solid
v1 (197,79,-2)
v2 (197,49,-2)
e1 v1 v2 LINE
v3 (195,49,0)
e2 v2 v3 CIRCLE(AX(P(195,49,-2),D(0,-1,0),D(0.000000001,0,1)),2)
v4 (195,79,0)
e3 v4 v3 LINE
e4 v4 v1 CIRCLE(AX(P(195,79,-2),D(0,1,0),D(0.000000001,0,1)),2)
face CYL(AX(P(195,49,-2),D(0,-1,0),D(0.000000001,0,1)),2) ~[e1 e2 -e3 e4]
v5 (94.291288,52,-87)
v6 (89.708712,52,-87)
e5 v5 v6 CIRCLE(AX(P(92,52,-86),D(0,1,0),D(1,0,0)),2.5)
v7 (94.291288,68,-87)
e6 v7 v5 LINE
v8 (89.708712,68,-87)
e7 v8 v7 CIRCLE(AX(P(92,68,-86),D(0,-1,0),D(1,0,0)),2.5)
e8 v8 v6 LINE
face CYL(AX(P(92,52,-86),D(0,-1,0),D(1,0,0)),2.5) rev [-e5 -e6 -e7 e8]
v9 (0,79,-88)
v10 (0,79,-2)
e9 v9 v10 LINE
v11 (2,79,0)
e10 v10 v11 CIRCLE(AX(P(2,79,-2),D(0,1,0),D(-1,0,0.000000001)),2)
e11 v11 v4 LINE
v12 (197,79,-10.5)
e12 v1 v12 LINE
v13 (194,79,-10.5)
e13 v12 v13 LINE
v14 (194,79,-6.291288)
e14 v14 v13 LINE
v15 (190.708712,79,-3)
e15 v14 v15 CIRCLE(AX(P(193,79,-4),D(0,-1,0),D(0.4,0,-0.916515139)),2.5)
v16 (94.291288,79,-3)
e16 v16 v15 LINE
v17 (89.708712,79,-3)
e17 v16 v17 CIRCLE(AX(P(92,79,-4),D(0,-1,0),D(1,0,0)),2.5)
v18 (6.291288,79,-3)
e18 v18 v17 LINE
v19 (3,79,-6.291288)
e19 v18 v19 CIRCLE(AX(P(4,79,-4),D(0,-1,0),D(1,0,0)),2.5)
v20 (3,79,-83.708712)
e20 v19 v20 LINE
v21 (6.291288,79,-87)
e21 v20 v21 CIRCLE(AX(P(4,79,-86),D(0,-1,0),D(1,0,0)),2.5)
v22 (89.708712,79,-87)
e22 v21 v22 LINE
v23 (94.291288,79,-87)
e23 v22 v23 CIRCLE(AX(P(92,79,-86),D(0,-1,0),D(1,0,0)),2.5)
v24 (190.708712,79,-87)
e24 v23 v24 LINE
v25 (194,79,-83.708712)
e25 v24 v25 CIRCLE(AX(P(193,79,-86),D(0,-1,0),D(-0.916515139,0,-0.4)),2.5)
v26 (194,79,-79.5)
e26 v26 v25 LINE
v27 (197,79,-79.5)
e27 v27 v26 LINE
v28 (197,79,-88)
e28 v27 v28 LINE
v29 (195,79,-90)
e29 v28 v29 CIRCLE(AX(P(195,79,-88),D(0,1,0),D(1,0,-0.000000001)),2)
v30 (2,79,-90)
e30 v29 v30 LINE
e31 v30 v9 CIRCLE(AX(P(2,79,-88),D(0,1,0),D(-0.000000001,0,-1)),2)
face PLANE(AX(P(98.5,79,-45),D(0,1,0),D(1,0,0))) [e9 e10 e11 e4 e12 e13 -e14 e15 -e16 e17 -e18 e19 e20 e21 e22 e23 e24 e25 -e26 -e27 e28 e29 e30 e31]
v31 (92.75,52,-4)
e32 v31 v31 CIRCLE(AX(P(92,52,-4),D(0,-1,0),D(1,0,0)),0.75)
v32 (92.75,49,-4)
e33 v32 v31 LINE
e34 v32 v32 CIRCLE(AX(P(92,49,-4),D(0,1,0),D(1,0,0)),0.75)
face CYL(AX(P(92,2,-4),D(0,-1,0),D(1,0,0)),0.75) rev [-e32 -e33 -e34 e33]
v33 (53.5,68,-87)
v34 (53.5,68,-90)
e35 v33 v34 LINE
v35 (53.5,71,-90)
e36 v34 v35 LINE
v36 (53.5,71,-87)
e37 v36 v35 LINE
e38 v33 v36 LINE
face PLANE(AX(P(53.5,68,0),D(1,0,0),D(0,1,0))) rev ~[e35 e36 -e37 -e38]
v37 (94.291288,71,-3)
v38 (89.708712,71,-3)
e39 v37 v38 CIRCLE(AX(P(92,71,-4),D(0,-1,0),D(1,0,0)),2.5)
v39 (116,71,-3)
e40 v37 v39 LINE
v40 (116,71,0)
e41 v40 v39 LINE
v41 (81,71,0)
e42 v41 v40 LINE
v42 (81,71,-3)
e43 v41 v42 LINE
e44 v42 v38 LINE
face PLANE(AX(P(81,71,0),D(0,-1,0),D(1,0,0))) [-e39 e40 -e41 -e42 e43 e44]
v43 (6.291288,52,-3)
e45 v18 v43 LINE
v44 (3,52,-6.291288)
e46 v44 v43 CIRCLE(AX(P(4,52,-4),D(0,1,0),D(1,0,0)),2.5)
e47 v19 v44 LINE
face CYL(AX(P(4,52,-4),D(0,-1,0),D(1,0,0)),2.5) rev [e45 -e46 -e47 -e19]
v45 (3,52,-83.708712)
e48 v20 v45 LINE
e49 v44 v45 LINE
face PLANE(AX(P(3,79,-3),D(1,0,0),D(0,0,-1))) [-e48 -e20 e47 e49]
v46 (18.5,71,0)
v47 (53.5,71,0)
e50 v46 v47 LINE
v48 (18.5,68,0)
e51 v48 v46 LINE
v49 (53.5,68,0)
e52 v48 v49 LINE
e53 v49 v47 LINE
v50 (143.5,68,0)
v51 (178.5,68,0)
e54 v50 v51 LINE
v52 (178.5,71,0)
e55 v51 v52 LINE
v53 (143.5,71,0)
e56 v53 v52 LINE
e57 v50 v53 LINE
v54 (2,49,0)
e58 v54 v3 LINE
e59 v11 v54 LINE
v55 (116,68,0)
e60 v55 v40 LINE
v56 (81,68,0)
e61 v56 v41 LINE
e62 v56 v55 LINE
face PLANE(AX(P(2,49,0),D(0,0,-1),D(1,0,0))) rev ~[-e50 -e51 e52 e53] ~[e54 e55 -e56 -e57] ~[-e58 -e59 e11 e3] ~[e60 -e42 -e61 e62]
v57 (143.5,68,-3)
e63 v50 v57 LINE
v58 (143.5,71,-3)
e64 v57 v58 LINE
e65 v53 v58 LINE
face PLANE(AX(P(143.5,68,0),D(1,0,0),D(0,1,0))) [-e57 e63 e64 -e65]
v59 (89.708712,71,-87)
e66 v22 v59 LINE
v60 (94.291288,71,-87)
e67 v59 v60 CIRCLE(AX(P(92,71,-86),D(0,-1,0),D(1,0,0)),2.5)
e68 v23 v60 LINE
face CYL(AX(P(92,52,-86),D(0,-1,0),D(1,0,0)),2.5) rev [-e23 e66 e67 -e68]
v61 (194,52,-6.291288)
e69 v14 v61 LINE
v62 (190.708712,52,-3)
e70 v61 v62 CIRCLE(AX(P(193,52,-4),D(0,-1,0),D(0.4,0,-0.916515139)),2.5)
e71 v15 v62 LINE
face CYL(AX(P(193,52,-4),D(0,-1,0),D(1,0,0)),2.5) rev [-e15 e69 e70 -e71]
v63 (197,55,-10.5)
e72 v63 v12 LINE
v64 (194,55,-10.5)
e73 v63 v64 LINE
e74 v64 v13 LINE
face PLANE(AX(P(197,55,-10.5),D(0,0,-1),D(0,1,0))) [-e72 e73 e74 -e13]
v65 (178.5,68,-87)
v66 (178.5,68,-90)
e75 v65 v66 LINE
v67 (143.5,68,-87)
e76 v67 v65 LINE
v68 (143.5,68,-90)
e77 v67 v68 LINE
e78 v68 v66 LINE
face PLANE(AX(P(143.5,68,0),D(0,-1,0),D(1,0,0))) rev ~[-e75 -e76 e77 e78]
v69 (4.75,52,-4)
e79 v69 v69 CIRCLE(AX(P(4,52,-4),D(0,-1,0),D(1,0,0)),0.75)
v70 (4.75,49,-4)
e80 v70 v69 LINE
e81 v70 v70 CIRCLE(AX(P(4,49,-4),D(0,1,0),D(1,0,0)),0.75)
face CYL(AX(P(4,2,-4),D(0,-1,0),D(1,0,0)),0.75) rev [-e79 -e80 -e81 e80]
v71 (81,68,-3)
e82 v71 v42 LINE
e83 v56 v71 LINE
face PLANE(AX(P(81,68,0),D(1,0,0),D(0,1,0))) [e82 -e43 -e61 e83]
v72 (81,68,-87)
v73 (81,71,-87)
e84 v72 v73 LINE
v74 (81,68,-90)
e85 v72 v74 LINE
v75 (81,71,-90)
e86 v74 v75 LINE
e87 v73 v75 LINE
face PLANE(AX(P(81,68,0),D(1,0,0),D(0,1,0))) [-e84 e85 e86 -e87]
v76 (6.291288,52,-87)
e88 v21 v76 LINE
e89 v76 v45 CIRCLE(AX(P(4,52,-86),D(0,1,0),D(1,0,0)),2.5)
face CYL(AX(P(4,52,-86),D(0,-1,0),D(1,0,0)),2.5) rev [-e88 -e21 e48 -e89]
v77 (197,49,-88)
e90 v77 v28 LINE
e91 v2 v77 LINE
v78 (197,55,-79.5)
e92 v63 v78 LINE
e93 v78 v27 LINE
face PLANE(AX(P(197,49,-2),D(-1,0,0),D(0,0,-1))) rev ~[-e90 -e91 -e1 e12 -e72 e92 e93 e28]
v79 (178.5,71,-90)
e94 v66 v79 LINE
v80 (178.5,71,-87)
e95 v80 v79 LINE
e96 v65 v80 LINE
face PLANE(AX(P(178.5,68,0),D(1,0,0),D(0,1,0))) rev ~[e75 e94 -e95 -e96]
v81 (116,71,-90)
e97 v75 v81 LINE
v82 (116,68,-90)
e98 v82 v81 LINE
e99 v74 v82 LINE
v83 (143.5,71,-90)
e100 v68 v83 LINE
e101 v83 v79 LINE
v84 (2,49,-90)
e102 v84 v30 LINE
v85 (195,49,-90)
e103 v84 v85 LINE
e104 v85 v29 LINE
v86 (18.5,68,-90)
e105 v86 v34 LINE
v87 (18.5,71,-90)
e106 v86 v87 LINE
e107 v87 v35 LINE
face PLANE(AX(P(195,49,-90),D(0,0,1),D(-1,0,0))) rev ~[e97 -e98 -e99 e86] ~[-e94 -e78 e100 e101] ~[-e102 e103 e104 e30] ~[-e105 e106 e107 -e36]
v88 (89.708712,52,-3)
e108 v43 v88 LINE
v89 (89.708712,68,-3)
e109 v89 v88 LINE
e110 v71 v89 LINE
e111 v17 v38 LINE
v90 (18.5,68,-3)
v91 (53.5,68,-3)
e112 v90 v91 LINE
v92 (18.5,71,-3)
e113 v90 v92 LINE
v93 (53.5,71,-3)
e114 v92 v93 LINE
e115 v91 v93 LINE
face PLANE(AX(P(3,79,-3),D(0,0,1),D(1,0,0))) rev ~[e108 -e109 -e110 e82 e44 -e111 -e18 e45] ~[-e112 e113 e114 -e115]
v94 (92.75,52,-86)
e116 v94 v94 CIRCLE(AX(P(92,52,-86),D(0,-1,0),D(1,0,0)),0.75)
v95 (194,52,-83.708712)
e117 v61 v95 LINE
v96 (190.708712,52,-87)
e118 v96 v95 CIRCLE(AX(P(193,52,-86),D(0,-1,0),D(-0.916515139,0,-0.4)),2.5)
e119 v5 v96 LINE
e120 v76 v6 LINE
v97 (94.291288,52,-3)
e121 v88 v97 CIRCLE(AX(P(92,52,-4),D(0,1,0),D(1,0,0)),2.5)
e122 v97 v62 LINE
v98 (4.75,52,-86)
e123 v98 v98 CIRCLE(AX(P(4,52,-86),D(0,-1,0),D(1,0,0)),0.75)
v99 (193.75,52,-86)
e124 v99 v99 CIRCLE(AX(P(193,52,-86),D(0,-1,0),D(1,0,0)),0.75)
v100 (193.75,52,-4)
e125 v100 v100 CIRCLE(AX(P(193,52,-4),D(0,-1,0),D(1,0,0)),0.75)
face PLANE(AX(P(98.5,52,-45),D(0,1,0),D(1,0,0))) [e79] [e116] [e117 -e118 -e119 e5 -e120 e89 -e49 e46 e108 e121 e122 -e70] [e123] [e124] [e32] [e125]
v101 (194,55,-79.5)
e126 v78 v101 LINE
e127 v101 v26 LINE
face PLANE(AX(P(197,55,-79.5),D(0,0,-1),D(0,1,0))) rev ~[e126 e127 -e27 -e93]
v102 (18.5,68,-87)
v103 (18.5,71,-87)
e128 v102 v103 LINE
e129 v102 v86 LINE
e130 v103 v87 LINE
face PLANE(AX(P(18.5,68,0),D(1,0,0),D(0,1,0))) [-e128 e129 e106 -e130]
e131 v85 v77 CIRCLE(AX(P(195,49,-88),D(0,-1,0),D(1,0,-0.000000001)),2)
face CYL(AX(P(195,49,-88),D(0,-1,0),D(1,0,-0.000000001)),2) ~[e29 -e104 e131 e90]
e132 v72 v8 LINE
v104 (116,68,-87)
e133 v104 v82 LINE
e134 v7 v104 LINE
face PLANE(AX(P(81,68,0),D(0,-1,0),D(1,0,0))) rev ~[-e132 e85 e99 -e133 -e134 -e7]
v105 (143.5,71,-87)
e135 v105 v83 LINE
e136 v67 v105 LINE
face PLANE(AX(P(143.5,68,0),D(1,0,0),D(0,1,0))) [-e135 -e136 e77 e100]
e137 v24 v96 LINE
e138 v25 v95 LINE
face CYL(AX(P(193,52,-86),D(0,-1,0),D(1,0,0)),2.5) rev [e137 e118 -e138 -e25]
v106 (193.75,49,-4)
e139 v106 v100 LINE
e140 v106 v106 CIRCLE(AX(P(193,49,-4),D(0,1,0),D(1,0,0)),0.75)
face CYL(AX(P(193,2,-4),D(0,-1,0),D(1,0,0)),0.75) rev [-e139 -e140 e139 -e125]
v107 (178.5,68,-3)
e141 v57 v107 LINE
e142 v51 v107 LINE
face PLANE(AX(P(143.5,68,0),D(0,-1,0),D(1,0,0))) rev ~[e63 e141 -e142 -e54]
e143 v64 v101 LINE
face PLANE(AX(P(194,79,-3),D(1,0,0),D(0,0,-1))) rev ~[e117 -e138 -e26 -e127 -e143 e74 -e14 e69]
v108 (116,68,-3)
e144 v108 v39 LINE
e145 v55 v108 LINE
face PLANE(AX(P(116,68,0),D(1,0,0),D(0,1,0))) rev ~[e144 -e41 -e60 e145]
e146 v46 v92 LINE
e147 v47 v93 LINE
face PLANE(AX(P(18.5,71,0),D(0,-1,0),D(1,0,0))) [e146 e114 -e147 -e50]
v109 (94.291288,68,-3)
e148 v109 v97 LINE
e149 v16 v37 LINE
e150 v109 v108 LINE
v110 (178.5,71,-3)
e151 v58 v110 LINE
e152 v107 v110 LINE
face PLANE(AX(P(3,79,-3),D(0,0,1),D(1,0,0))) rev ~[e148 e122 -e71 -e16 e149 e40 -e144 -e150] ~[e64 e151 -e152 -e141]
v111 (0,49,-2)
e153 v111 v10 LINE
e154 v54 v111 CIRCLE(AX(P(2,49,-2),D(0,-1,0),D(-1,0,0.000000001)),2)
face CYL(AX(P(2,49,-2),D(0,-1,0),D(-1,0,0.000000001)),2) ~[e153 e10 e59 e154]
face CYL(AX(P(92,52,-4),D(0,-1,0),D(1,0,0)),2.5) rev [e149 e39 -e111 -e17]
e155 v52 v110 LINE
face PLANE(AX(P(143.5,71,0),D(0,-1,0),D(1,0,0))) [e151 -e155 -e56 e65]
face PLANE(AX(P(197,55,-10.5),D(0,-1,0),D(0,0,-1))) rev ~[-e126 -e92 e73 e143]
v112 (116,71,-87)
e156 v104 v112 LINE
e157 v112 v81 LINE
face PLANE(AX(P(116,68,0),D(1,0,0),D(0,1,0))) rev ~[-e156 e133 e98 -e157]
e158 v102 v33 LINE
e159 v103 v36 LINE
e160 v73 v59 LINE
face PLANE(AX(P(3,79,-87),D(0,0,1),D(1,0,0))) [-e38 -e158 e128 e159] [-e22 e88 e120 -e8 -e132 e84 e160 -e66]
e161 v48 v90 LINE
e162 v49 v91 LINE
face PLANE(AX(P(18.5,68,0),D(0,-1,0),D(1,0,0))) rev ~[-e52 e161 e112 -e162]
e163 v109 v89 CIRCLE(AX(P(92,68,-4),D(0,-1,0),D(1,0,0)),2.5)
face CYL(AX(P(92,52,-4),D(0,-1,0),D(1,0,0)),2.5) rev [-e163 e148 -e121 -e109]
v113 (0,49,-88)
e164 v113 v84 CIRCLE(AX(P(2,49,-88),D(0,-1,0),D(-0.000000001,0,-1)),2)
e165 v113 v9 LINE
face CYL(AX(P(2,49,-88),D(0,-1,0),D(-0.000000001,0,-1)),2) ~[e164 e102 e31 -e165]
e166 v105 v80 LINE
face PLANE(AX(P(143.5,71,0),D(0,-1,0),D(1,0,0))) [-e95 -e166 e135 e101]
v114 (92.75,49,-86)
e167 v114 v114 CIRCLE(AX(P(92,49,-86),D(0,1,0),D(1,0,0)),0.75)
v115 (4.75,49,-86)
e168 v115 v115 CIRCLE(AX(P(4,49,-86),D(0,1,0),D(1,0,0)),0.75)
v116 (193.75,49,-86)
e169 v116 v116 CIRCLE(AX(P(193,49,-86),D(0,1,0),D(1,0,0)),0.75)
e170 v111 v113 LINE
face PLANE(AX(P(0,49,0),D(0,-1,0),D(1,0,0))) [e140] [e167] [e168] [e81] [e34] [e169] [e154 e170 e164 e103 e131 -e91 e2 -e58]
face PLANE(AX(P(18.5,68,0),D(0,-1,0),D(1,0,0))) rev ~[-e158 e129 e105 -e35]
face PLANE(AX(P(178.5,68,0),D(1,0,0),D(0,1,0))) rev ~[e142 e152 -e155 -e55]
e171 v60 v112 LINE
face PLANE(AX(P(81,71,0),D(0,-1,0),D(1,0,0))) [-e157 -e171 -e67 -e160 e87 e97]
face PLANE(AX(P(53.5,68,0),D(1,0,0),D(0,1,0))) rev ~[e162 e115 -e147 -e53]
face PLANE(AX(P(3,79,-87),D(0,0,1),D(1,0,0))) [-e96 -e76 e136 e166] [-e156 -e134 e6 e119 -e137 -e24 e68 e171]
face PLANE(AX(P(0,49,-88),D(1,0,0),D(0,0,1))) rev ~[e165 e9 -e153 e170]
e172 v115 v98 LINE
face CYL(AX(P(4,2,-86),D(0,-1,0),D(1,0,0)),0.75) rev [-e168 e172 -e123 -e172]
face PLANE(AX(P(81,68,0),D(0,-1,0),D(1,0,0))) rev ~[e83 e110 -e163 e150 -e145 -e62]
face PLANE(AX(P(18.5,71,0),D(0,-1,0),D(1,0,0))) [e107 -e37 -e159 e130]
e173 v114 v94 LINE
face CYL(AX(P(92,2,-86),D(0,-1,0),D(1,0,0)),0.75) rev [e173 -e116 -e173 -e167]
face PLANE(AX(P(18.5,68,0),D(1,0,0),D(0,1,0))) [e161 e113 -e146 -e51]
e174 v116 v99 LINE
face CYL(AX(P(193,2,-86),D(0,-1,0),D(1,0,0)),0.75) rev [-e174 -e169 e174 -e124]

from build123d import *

# Parameters (mm, degrees)
SKETCH2_W               = 197
SKETCH2_H               = 90
BOSS_EXTRUDE1_DEPTH     = 21
SHELL1_T                = -2
SKETCH3_R               = 3.325
SKETCH3_R_2             = 1.325
BOSS_EXTRUDE2_DEPTH     = 2
SKETCH6_R               = 1.325
CUT_EXTRUDE2_DEPTH      = 3
BOSS_EXTRUDE3_DEPTH     = 19
SKETCH10_W              = 3
SKETCH10_H              = 12
CUT_EXTRUDE5_DEPTH      = 19
SKETCH12_W              = 29.592043876
SKETCH12_H              = 2
CUT_EXTRUDE6_DEPTH      = 10
CUT_EXTRUDE6_DEPTH_BACK = 73
CUT_EXTRUDE8_DEPTH      = 10
FILLET1_R               = 2
SKETCH7_R               = 6
CUT_EXTRUDE9_DEPTH      = 10
BOSS_EXTRUDE4_DEPTH     = 24
SKETCH18_W              = 191
SKETCH18_H              = 84
CUT_EXTRUDE10_DEPTH     = 21
BOSS_EXTRUDE5_DEPTH     = 19
SKETCH22_R              = 0.75
CUT_EXTRUDE11_DEPTH     = 44
SKETCH23_R              = 2
CUT_EXTRUDE12_DEPTH     = 22
SKETCH24_W              = 197
SKETCH24_H              = 24
CUT_EXTRUDE13_DEPTH     = 91
SKETCH25_R              = 0.75
BOSS_EXTRUDE9_DEPTH     = 28
BOSS_EXTRUDE10_START    = -2
BOSS_EXTRUDE10_DEPTH    = 2
BOSS_EXTRUDE11_DEPTH    = 30
SKETCH28_W              = 191
SKETCH28_H              = 84
CUT_EXTRUDE14_DEPTH     = 27
SKETCH29_R              = 0.75
CUT_EXTRUDE15_DEPTH     = 78
SKETCH30_W              = 197
SKETCH30_H              = 49
CUT_EXTRUDE16_DEPTH     = 91
SKETCH31_W              = 69
SKETCH31_H              = 24
CUT_EXTRUDE17_DEPTH     = 10
SKETCH32_R              = 2.5
CUT_EXTRUDE18_DEPTH     = 28
SKETCH33_W              = 35
SKETCH33_H              = 3
CUT_EXTRUDE19_DEPTH     = 91


with BuildPart() as part:
    # Sketch2 → Boss-Extrude1 (new body)
    with BuildSketch(Plane(origin=(0, 0, 0), x_dir=(1, 0, 0), z_dir=(0, 1, 0))):
        with Locations((98.5, 45)):
            Rectangle(SKETCH2_W, SKETCH2_H)
    extrude(amount=BOSS_EXTRUDE1_DEPTH)

    # Shell1
    shell1_openings = [part.faces().sort_by_distance(p)[0] for p in [
        (98.5, 21, -45),
    ]]
    offset(amount=SHELL1_T, openings=shell1_openings, kind=Kind.INTERSECTION)

    # Sketch3 → Boss-Extrude2 (add)
    with BuildSketch(Plane(origin=(0.486650368, 2, 38.670182975), x_dir=(1, 0, 0), z_dir=(0, 1, 0))):
        with Locations((118.948969004, 54.089521182)):
            Circle(SKETCH3_R)
        with Locations((118.948969004, 54.089521182)):
            Circle(SKETCH3_R_2, mode=Mode.SUBTRACT)
        with Locations((95.898969004, 54.089521182)):
            Circle(SKETCH3_R)
        with Locations((95.898969004, 54.089521182)):
            Circle(SKETCH3_R_2, mode=Mode.SUBTRACT)
        with Locations((95.898969004, 112.139521182)):
            Circle(SKETCH3_R)
        with Locations((95.898969004, 112.139521182)):
            Circle(SKETCH3_R_2, mode=Mode.SUBTRACT)
        with Locations((118.948969004, 112.139521182)):
            Circle(SKETCH3_R)
        with Locations((118.948969004, 112.139521182)):
            Circle(SKETCH3_R_2, mode=Mode.SUBTRACT)
    extrude(amount=BOSS_EXTRUDE2_DEPTH)

    # Sketch6 → Cut-Extrude2 (cut, through all)
    with BuildSketch(Plane(origin=(0, 2, 0), x_dir=(1, 0, 0), z_dir=(0, 1, 0))):
        with Locations((96.385619372, 73.469338207)):
            Circle(SKETCH6_R)
        with Locations((119.435619372, 73.469338207)):
            Circle(SKETCH6_R)
        with Locations((119.435619372, 15.419338207)):
            Circle(SKETCH6_R)
        with Locations((96.385619372, 15.419338207)):
            Circle(SKETCH6_R)
    extrude(amount=-CUT_EXTRUDE2_DEPTH, mode=Mode.SUBTRACT)

    # Sketch8 → Boss-Extrude3 (add)
    with BuildSketch(Plane(origin=(0, 2, 0), x_dir=(1, 0, 0), z_dir=(0, 1, 0))):
        Polygon((2, 28), (87, 28), (87, 87), (2, 87), (2, 90), (90, 90), (90, 25), (2, 25), align=None)
    extrude(amount=BOSS_EXTRUDE3_DEPTH)

    # Sketch10 → Cut-Extrude5 (cut)
    with BuildSketch(Plane(origin=(0, 21, 0), x_dir=(1, 0, 0), z_dir=(0, 1, 0))):
        with Locations((88.5, 57.5)):
            Rectangle(SKETCH10_W, SKETCH10_H)
    extrude(amount=-CUT_EXTRUDE5_DEPTH, mode=Mode.SUBTRACT)

    # Sketch12 → Cut-Extrude6 (cut, two sides)
    with BuildSketch(Plane(origin=(0, 0, -75), x_dir=(-1, 0, 0), z_dir=(0, 0, -1))) as cut_extrude6_sk:
        with Locations((-42.979341868, 13.109706)):
            Rectangle(SKETCH12_W, SKETCH12_H)
        with Locations((-42.979341868, 8.109706)):
            Rectangle(SKETCH12_W, SKETCH12_H)
    extrude(amount=CUT_EXTRUDE6_DEPTH, mode=Mode.SUBTRACT)
    extrude(cut_extrude6_sk.sketch, amount=-CUT_EXTRUDE6_DEPTH_BACK, mode=Mode.SUBTRACT)

    # Sketch16 → Cut-Extrude8 (cut)
    with BuildSketch(Plane(origin=(197, 0, 0), x_dir=(0, 0, -1), z_dir=(1, 0, 0))):
        with BuildLine():
            Line((48, 14.235547834), (48, 21))
            Line((48, 21), (42, 21))
            Line((42, 21), (42, 14.235547834))
            ThreePointArc((42, 14.235547834), (45, 11.235547834), (48, 14.235547834))
        make_face()
    extrude(amount=-CUT_EXTRUDE8_DEPTH, mode=Mode.SUBTRACT)

    # Fillet1
    fillet1_edges = [part.edges().sort_by_distance(p)[0] for p in [
        (98.5, 0, -90),
        (197, 0, -45),
        (98.5, 0, 0),
        (0, 0, -45),
        (0, 10.5, -90),
        (197, 10.5, -90),
        (197, 10.5, 0),
        (0, 10.5, 0),
    ]]
    fillet(fillet1_edges, radius=FILLET1_R)

    # Sketch7 → Cut-Extrude9 (cut)
    with BuildSketch(Plane.ZY):
        with Locations((-57.5, 13.5)):
            Circle(SKETCH7_R)
    extrude(amount=-CUT_EXTRUDE9_DEPTH, mode=Mode.SUBTRACT)

    # Sketch17 → Boss-Extrude4 (add)
    with BuildSketch(Plane(origin=(0, 21, 0), x_dir=(1, 0, 0), z_dir=(0, 1, 0))):
        with BuildLine():
            Line((197, 48), (197, 42))
            Line((197, 42), (197, 2))
            ThreePointArc((197, 2), (196.414213562, 0.585786438), (195, 0))
            Line((195, 0), (2, 0))
            ThreePointArc((2, 0), (0.585786438, 0.585786438), (0, 2))
            Line((0, 2), (0, 88))
            ThreePointArc((0, 88), (0.585786438, 89.414213562), (2, 90))
            Line((2, 90), (195, 90))
            ThreePointArc((195, 90), (196.414213562, 89.414213562), (197, 88))
            Line((197, 88), (197, 48))
        make_face()
    extrude(amount=BOSS_EXTRUDE4_DEPTH)

    # Sketch18 → Cut-Extrude10 (cut)
    with BuildSketch(Plane(origin=(0, 45, 0), x_dir=(1, 0, 0), z_dir=(0, 1, 0))):
        with Locations((98.5, 45)):
            Rectangle(SKETCH18_W, SKETCH18_H)
    extrude(amount=-CUT_EXTRUDE10_DEPTH, mode=Mode.SUBTRACT)

    # Sketch19 → Boss-Extrude5 (add)
    with BuildSketch(Plane(origin=(0, 2, 0), x_dir=(1, 0, 0), z_dir=(0, 1, 0))):
        with BuildLine():
            Line((193, 88), (195, 88))
            Line((195, 88), (195, 84))
            Line((195, 84), (193, 84))
            ThreePointArc((193, 84), (191.585786438, 84.585786438), (191, 86))
            Line((191, 86), (191, 88))
            Line((191, 88), (193, 88))
        make_face()
        with BuildLine():
            Line((191, 2), (193, 2))
            Line((193, 2), (195, 2))
            Line((195, 2), (195, 6))
            Line((195, 6), (193, 6))
            ThreePointArc((193, 6), (191.585786438, 5.414213562), (191, 4))
            Line((191, 4), (191, 2))
        make_face()
        with BuildLine():
            Line((94, 4), (94, 2))
            Line((94, 2), (90, 2))
            Line((90, 2), (90, 4))
            ThreePointArc((90, 4), (92, 6), (94, 4))
        make_face()
        with BuildLine():
            Line((92, 84), (90, 84))
            Line((90, 84), (90, 88))
            Line((90, 88), (94, 88))
            Line((94, 88), (94, 86))
            ThreePointArc((94, 86), (93.414213562, 84.585786438), (92, 84))
        make_face()
        with BuildLine():
            Line((2, 88), (2, 84))
            Line((2, 84), (4, 84))
            ThreePointArc((4, 84), (5.414213562, 84.585786438), (6, 86))
            Line((6, 86), (6, 88))
            Line((6, 88), (2, 88))
        make_face()
        with BuildLine():
            Line((6, 4), (6, 2))
            Line((6, 2), (2, 2))
            Line((2, 2), (2, 6))
            Line((2, 6), (4, 6))
            ThreePointArc((4, 6), (5.414213562, 5.414213562), (6, 4))
        make_face()
    extrude(amount=BOSS_EXTRUDE5_DEPTH)

    # Sketch22 → Cut-Extrude11 (cut, through all)
    with BuildSketch(Plane(origin=(0, 2, 0), x_dir=(1, 0, 0), z_dir=(0, 1, 0))):
        with Locations((4, 4)):
            Circle(SKETCH22_R)
        with Locations((4, 86)):
            Circle(SKETCH22_R)
        with Locations((92, 86)):
            Circle(SKETCH22_R)
        with Locations((193, 86)):
            Circle(SKETCH22_R)
        with Locations((193, 4)):
            Circle(SKETCH22_R)
        with Locations((92, 4)):
            Circle(SKETCH22_R)
    extrude(amount=CUT_EXTRUDE11_DEPTH, mode=Mode.SUBTRACT)

    # Sketch23 → Cut-Extrude12 (cut, through all)
    with BuildSketch(Plane(origin=(0, 24, 0), x_dir=(1, 0, 0), z_dir=(0, 1, 0))):
        with Locations((92, 4)):
            Circle(SKETCH23_R)
        with Locations((4, 4)):
            Circle(SKETCH23_R)
        with Locations((4, 86)):
            Circle(SKETCH23_R)
        with Locations((92, 86)):
            Circle(SKETCH23_R)
        with Locations((193, 86)):
            Circle(SKETCH23_R)
        with Locations((181, 4)):
            Circle(SKETCH23_R)
    extrude(amount=CUT_EXTRUDE12_DEPTH, mode=Mode.SUBTRACT)

    # Sketch24 → Cut-Extrude13 (cut, through all)
    with BuildSketch(Plane.XY):
        with Locations((98.5, 33)):
            Rectangle(SKETCH24_W, SKETCH24_H)
    extrude(amount=-CUT_EXTRUDE13_DEPTH, mode=Mode.SUBTRACT)

    # Sketch25 → Boss-Extrude9 (add)
    with BuildSketch(Plane(origin=(0, 21, 0), x_dir=(1, 0, 0), z_dir=(0, 1, 0))):
        with BuildLine():
            Line((197, 42), (197, 48))
            Line((197, 48), (197, 88))
            ThreePointArc((197, 88), (196.414213562, 89.414213562), (195, 90))
            Line((195, 90), (2, 90))
            ThreePointArc((2, 90), (0.585786438, 89.414213562), (0, 88))
            Line((0, 88), (0, 2))
            ThreePointArc((0, 2), (0.585786438, 0.585786438), (2, 0))
            Line((2, 0), (195, 0))
            ThreePointArc((195, 0), (196.414213562, 0.585786438), (197, 2))
            Line((197, 2), (197, 42))
        make_face()
        with Locations((4, 4)):
            Circle(SKETCH25_R, mode=Mode.SUBTRACT)
        with Locations((4, 86)):
            Circle(SKETCH25_R, mode=Mode.SUBTRACT)
        with Locations((92, 86)):
            Circle(SKETCH25_R, mode=Mode.SUBTRACT)
        with Locations((193, 86)):
            Circle(SKETCH25_R, mode=Mode.SUBTRACT)
        with Locations((193, 4)):
            Circle(SKETCH25_R, mode=Mode.SUBTRACT)
        with Locations((92, 4)):
            Circle(SKETCH25_R, mode=Mode.SUBTRACT)
        with BuildLine():
            Line((2, 25), (2, 28))
            Line((2, 28), (2, 84))
            Line((2, 84), (4, 84))
            ThreePointArc((4, 84), (5.414213562, 84.585786438), (6, 86))
            Line((6, 86), (6, 87))
            Line((6, 87), (87, 87))
            Line((87, 87), (90, 87))
            Line((90, 87), (90, 84))
            Line((90, 84), (92, 84))
            ThreePointArc((92, 84), (93.414213562, 84.585786438), (94, 86))
            Line((94, 86), (94, 88))
            Line((94, 88), (191, 88))
            Line((191, 88), (191, 86))
            ThreePointArc((191, 86), (191.585786438, 84.585786438), (193, 84))
            Line((193, 84), (195, 84))
            Line((195, 84), (195, 48))
            Line((195, 48), (195, 42))
            Line((195, 42), (195, 6))
            Line((195, 6), (193, 6))
            ThreePointArc((193, 6), (191.585786438, 5.414213562), (191, 4))
            Line((191, 4), (191, 2))
            Line((191, 2), (94, 2))
            Line((94, 2), (94, 4))
            ThreePointArc((94, 4), (92, 6), (90, 4))
            Line((90, 4), (90, 2))
            Line((90, 2), (6, 2))
            Line((6, 2), (6, 4))
            ThreePointArc((6, 4), (5.414213562, 5.414213562), (4, 6))
            Line((4, 6), (2, 6))
            Line((2, 6), (2, 25))
        make_face(mode=Mode.SUBTRACT)
    extrude(amount=BOSS_EXTRUDE9_DEPTH)

    # Sketch26 → Boss-Extrude10 (add)
    with BuildSketch(Plane(origin=(197, 0, 0), x_dir=(0, 0, -1), z_dir=(1, 0, 0)).offset(BOSS_EXTRUDE10_START)):
        with BuildLine():
            Line((48, 21), (42, 21))
            Line((42, 21), (42, 14.235547834))
            ThreePointArc((42, 14.235547834), (45, 11.235547834), (48, 14.235547834))
            Line((48, 14.235547834), (48, 21))
        make_face()
    extrude(amount=BOSS_EXTRUDE10_DEPTH)

    # Sketch27 → Boss-Extrude11 (add)
    with BuildSketch(Plane(origin=(0, 49, 0), x_dir=(1, 0, 0), z_dir=(0, 1, 0))):
        with BuildLine():
            Line((197, 2), (197, 88))
            ThreePointArc((197, 88), (196.414213562, 89.414213562), (195, 90))
            Line((195, 90), (2, 90))
            ThreePointArc((2, 90), (0.585786438, 89.414213562), (0, 88))
            Line((0, 88), (0, 2))
            ThreePointArc((0, 2), (0.585786438, 0.585786438), (2, 0))
            Line((2, 0), (195, 0))
            ThreePointArc((195, 0), (196.414213562, 0.585786438), (197, 2))
        make_face()
    extrude(amount=BOSS_EXTRUDE11_DEPTH)

    # Sketch28 → Cut-Extrude14 (cut)
    with BuildSketch(Plane(origin=(0, 79, 0), x_dir=(1, 0, 0), z_dir=(0, 1, 0))):
        with Locations((98.5, 45)):
            Rectangle(SKETCH28_W, SKETCH28_H)
    extrude(amount=-CUT_EXTRUDE14_DEPTH, mode=Mode.SUBTRACT)

    # Sketch29 → Cut-Extrude15 (cut, through all)
    with BuildSketch(Plane(origin=(0, 2, 0), x_dir=(1, 0, 0), z_dir=(0, 1, 0))):
        with Locations((4, 4)):
            Circle(SKETCH29_R)
        with Locations((4, 86)):
            Circle(SKETCH29_R)
        with Locations((193, 86)):
            Circle(SKETCH29_R)
        with Locations((193, 4)):
            Circle(SKETCH29_R)
        with Locations((92, 4)):
            Circle(SKETCH29_R)
        with Locations((92, 86)):
            Circle(SKETCH29_R)
    extrude(amount=CUT_EXTRUDE15_DEPTH, mode=Mode.SUBTRACT)

    # Sketch30 → Cut-Extrude16 (cut, through all)
    with BuildSketch(Plane.XY):
        with Locations((98.5, 24.5)):
            Rectangle(SKETCH30_W, SKETCH30_H)
    extrude(amount=-CUT_EXTRUDE16_DEPTH, mode=Mode.SUBTRACT)

    # Sketch31 → Cut-Extrude17 (cut)
    with BuildSketch(Plane(origin=(197, 0, 0), x_dir=(0, 0, -1), z_dir=(1, 0, 0))):
        with Locations((45, 67)):
            Rectangle(SKETCH31_W, SKETCH31_H)
    extrude(amount=-CUT_EXTRUDE17_DEPTH, mode=Mode.SUBTRACT)

    # Sketch32 → Cut-Extrude18 (cut, through all)
    with BuildSketch(Plane(origin=(0, 52, 0), x_dir=(1, 0, 0), z_dir=(0, 1, 0))):
        with Locations((4, 4)):
            Circle(SKETCH32_R)
        with Locations((4, 86)):
            Circle(SKETCH32_R)
        with Locations((92, 86)):
            Circle(SKETCH32_R)
        with Locations((193, 86)):
            Circle(SKETCH32_R)
        with Locations((193, 4)):
            Circle(SKETCH32_R)
        with Locations((92, 4)):
            Circle(SKETCH32_R)
    extrude(amount=CUT_EXTRUDE18_DEPTH, mode=Mode.SUBTRACT)

    # Sketch33 → Cut-Extrude19 (cut, through all)
    with BuildSketch(Plane.XY):
        with Locations((36, 69.5)):
            Rectangle(SKETCH33_W, SKETCH33_H)
        with Locations((98.5, 69.5)):
            Rectangle(SKETCH33_W, SKETCH33_H)
        with Locations((161, 69.5)):
            Rectangle(SKETCH33_W, SKETCH33_H)
    extrude(amount=-CUT_EXTRUDE19_DEPTH, mode=Mode.SUBTRACT)


solid = part.part
